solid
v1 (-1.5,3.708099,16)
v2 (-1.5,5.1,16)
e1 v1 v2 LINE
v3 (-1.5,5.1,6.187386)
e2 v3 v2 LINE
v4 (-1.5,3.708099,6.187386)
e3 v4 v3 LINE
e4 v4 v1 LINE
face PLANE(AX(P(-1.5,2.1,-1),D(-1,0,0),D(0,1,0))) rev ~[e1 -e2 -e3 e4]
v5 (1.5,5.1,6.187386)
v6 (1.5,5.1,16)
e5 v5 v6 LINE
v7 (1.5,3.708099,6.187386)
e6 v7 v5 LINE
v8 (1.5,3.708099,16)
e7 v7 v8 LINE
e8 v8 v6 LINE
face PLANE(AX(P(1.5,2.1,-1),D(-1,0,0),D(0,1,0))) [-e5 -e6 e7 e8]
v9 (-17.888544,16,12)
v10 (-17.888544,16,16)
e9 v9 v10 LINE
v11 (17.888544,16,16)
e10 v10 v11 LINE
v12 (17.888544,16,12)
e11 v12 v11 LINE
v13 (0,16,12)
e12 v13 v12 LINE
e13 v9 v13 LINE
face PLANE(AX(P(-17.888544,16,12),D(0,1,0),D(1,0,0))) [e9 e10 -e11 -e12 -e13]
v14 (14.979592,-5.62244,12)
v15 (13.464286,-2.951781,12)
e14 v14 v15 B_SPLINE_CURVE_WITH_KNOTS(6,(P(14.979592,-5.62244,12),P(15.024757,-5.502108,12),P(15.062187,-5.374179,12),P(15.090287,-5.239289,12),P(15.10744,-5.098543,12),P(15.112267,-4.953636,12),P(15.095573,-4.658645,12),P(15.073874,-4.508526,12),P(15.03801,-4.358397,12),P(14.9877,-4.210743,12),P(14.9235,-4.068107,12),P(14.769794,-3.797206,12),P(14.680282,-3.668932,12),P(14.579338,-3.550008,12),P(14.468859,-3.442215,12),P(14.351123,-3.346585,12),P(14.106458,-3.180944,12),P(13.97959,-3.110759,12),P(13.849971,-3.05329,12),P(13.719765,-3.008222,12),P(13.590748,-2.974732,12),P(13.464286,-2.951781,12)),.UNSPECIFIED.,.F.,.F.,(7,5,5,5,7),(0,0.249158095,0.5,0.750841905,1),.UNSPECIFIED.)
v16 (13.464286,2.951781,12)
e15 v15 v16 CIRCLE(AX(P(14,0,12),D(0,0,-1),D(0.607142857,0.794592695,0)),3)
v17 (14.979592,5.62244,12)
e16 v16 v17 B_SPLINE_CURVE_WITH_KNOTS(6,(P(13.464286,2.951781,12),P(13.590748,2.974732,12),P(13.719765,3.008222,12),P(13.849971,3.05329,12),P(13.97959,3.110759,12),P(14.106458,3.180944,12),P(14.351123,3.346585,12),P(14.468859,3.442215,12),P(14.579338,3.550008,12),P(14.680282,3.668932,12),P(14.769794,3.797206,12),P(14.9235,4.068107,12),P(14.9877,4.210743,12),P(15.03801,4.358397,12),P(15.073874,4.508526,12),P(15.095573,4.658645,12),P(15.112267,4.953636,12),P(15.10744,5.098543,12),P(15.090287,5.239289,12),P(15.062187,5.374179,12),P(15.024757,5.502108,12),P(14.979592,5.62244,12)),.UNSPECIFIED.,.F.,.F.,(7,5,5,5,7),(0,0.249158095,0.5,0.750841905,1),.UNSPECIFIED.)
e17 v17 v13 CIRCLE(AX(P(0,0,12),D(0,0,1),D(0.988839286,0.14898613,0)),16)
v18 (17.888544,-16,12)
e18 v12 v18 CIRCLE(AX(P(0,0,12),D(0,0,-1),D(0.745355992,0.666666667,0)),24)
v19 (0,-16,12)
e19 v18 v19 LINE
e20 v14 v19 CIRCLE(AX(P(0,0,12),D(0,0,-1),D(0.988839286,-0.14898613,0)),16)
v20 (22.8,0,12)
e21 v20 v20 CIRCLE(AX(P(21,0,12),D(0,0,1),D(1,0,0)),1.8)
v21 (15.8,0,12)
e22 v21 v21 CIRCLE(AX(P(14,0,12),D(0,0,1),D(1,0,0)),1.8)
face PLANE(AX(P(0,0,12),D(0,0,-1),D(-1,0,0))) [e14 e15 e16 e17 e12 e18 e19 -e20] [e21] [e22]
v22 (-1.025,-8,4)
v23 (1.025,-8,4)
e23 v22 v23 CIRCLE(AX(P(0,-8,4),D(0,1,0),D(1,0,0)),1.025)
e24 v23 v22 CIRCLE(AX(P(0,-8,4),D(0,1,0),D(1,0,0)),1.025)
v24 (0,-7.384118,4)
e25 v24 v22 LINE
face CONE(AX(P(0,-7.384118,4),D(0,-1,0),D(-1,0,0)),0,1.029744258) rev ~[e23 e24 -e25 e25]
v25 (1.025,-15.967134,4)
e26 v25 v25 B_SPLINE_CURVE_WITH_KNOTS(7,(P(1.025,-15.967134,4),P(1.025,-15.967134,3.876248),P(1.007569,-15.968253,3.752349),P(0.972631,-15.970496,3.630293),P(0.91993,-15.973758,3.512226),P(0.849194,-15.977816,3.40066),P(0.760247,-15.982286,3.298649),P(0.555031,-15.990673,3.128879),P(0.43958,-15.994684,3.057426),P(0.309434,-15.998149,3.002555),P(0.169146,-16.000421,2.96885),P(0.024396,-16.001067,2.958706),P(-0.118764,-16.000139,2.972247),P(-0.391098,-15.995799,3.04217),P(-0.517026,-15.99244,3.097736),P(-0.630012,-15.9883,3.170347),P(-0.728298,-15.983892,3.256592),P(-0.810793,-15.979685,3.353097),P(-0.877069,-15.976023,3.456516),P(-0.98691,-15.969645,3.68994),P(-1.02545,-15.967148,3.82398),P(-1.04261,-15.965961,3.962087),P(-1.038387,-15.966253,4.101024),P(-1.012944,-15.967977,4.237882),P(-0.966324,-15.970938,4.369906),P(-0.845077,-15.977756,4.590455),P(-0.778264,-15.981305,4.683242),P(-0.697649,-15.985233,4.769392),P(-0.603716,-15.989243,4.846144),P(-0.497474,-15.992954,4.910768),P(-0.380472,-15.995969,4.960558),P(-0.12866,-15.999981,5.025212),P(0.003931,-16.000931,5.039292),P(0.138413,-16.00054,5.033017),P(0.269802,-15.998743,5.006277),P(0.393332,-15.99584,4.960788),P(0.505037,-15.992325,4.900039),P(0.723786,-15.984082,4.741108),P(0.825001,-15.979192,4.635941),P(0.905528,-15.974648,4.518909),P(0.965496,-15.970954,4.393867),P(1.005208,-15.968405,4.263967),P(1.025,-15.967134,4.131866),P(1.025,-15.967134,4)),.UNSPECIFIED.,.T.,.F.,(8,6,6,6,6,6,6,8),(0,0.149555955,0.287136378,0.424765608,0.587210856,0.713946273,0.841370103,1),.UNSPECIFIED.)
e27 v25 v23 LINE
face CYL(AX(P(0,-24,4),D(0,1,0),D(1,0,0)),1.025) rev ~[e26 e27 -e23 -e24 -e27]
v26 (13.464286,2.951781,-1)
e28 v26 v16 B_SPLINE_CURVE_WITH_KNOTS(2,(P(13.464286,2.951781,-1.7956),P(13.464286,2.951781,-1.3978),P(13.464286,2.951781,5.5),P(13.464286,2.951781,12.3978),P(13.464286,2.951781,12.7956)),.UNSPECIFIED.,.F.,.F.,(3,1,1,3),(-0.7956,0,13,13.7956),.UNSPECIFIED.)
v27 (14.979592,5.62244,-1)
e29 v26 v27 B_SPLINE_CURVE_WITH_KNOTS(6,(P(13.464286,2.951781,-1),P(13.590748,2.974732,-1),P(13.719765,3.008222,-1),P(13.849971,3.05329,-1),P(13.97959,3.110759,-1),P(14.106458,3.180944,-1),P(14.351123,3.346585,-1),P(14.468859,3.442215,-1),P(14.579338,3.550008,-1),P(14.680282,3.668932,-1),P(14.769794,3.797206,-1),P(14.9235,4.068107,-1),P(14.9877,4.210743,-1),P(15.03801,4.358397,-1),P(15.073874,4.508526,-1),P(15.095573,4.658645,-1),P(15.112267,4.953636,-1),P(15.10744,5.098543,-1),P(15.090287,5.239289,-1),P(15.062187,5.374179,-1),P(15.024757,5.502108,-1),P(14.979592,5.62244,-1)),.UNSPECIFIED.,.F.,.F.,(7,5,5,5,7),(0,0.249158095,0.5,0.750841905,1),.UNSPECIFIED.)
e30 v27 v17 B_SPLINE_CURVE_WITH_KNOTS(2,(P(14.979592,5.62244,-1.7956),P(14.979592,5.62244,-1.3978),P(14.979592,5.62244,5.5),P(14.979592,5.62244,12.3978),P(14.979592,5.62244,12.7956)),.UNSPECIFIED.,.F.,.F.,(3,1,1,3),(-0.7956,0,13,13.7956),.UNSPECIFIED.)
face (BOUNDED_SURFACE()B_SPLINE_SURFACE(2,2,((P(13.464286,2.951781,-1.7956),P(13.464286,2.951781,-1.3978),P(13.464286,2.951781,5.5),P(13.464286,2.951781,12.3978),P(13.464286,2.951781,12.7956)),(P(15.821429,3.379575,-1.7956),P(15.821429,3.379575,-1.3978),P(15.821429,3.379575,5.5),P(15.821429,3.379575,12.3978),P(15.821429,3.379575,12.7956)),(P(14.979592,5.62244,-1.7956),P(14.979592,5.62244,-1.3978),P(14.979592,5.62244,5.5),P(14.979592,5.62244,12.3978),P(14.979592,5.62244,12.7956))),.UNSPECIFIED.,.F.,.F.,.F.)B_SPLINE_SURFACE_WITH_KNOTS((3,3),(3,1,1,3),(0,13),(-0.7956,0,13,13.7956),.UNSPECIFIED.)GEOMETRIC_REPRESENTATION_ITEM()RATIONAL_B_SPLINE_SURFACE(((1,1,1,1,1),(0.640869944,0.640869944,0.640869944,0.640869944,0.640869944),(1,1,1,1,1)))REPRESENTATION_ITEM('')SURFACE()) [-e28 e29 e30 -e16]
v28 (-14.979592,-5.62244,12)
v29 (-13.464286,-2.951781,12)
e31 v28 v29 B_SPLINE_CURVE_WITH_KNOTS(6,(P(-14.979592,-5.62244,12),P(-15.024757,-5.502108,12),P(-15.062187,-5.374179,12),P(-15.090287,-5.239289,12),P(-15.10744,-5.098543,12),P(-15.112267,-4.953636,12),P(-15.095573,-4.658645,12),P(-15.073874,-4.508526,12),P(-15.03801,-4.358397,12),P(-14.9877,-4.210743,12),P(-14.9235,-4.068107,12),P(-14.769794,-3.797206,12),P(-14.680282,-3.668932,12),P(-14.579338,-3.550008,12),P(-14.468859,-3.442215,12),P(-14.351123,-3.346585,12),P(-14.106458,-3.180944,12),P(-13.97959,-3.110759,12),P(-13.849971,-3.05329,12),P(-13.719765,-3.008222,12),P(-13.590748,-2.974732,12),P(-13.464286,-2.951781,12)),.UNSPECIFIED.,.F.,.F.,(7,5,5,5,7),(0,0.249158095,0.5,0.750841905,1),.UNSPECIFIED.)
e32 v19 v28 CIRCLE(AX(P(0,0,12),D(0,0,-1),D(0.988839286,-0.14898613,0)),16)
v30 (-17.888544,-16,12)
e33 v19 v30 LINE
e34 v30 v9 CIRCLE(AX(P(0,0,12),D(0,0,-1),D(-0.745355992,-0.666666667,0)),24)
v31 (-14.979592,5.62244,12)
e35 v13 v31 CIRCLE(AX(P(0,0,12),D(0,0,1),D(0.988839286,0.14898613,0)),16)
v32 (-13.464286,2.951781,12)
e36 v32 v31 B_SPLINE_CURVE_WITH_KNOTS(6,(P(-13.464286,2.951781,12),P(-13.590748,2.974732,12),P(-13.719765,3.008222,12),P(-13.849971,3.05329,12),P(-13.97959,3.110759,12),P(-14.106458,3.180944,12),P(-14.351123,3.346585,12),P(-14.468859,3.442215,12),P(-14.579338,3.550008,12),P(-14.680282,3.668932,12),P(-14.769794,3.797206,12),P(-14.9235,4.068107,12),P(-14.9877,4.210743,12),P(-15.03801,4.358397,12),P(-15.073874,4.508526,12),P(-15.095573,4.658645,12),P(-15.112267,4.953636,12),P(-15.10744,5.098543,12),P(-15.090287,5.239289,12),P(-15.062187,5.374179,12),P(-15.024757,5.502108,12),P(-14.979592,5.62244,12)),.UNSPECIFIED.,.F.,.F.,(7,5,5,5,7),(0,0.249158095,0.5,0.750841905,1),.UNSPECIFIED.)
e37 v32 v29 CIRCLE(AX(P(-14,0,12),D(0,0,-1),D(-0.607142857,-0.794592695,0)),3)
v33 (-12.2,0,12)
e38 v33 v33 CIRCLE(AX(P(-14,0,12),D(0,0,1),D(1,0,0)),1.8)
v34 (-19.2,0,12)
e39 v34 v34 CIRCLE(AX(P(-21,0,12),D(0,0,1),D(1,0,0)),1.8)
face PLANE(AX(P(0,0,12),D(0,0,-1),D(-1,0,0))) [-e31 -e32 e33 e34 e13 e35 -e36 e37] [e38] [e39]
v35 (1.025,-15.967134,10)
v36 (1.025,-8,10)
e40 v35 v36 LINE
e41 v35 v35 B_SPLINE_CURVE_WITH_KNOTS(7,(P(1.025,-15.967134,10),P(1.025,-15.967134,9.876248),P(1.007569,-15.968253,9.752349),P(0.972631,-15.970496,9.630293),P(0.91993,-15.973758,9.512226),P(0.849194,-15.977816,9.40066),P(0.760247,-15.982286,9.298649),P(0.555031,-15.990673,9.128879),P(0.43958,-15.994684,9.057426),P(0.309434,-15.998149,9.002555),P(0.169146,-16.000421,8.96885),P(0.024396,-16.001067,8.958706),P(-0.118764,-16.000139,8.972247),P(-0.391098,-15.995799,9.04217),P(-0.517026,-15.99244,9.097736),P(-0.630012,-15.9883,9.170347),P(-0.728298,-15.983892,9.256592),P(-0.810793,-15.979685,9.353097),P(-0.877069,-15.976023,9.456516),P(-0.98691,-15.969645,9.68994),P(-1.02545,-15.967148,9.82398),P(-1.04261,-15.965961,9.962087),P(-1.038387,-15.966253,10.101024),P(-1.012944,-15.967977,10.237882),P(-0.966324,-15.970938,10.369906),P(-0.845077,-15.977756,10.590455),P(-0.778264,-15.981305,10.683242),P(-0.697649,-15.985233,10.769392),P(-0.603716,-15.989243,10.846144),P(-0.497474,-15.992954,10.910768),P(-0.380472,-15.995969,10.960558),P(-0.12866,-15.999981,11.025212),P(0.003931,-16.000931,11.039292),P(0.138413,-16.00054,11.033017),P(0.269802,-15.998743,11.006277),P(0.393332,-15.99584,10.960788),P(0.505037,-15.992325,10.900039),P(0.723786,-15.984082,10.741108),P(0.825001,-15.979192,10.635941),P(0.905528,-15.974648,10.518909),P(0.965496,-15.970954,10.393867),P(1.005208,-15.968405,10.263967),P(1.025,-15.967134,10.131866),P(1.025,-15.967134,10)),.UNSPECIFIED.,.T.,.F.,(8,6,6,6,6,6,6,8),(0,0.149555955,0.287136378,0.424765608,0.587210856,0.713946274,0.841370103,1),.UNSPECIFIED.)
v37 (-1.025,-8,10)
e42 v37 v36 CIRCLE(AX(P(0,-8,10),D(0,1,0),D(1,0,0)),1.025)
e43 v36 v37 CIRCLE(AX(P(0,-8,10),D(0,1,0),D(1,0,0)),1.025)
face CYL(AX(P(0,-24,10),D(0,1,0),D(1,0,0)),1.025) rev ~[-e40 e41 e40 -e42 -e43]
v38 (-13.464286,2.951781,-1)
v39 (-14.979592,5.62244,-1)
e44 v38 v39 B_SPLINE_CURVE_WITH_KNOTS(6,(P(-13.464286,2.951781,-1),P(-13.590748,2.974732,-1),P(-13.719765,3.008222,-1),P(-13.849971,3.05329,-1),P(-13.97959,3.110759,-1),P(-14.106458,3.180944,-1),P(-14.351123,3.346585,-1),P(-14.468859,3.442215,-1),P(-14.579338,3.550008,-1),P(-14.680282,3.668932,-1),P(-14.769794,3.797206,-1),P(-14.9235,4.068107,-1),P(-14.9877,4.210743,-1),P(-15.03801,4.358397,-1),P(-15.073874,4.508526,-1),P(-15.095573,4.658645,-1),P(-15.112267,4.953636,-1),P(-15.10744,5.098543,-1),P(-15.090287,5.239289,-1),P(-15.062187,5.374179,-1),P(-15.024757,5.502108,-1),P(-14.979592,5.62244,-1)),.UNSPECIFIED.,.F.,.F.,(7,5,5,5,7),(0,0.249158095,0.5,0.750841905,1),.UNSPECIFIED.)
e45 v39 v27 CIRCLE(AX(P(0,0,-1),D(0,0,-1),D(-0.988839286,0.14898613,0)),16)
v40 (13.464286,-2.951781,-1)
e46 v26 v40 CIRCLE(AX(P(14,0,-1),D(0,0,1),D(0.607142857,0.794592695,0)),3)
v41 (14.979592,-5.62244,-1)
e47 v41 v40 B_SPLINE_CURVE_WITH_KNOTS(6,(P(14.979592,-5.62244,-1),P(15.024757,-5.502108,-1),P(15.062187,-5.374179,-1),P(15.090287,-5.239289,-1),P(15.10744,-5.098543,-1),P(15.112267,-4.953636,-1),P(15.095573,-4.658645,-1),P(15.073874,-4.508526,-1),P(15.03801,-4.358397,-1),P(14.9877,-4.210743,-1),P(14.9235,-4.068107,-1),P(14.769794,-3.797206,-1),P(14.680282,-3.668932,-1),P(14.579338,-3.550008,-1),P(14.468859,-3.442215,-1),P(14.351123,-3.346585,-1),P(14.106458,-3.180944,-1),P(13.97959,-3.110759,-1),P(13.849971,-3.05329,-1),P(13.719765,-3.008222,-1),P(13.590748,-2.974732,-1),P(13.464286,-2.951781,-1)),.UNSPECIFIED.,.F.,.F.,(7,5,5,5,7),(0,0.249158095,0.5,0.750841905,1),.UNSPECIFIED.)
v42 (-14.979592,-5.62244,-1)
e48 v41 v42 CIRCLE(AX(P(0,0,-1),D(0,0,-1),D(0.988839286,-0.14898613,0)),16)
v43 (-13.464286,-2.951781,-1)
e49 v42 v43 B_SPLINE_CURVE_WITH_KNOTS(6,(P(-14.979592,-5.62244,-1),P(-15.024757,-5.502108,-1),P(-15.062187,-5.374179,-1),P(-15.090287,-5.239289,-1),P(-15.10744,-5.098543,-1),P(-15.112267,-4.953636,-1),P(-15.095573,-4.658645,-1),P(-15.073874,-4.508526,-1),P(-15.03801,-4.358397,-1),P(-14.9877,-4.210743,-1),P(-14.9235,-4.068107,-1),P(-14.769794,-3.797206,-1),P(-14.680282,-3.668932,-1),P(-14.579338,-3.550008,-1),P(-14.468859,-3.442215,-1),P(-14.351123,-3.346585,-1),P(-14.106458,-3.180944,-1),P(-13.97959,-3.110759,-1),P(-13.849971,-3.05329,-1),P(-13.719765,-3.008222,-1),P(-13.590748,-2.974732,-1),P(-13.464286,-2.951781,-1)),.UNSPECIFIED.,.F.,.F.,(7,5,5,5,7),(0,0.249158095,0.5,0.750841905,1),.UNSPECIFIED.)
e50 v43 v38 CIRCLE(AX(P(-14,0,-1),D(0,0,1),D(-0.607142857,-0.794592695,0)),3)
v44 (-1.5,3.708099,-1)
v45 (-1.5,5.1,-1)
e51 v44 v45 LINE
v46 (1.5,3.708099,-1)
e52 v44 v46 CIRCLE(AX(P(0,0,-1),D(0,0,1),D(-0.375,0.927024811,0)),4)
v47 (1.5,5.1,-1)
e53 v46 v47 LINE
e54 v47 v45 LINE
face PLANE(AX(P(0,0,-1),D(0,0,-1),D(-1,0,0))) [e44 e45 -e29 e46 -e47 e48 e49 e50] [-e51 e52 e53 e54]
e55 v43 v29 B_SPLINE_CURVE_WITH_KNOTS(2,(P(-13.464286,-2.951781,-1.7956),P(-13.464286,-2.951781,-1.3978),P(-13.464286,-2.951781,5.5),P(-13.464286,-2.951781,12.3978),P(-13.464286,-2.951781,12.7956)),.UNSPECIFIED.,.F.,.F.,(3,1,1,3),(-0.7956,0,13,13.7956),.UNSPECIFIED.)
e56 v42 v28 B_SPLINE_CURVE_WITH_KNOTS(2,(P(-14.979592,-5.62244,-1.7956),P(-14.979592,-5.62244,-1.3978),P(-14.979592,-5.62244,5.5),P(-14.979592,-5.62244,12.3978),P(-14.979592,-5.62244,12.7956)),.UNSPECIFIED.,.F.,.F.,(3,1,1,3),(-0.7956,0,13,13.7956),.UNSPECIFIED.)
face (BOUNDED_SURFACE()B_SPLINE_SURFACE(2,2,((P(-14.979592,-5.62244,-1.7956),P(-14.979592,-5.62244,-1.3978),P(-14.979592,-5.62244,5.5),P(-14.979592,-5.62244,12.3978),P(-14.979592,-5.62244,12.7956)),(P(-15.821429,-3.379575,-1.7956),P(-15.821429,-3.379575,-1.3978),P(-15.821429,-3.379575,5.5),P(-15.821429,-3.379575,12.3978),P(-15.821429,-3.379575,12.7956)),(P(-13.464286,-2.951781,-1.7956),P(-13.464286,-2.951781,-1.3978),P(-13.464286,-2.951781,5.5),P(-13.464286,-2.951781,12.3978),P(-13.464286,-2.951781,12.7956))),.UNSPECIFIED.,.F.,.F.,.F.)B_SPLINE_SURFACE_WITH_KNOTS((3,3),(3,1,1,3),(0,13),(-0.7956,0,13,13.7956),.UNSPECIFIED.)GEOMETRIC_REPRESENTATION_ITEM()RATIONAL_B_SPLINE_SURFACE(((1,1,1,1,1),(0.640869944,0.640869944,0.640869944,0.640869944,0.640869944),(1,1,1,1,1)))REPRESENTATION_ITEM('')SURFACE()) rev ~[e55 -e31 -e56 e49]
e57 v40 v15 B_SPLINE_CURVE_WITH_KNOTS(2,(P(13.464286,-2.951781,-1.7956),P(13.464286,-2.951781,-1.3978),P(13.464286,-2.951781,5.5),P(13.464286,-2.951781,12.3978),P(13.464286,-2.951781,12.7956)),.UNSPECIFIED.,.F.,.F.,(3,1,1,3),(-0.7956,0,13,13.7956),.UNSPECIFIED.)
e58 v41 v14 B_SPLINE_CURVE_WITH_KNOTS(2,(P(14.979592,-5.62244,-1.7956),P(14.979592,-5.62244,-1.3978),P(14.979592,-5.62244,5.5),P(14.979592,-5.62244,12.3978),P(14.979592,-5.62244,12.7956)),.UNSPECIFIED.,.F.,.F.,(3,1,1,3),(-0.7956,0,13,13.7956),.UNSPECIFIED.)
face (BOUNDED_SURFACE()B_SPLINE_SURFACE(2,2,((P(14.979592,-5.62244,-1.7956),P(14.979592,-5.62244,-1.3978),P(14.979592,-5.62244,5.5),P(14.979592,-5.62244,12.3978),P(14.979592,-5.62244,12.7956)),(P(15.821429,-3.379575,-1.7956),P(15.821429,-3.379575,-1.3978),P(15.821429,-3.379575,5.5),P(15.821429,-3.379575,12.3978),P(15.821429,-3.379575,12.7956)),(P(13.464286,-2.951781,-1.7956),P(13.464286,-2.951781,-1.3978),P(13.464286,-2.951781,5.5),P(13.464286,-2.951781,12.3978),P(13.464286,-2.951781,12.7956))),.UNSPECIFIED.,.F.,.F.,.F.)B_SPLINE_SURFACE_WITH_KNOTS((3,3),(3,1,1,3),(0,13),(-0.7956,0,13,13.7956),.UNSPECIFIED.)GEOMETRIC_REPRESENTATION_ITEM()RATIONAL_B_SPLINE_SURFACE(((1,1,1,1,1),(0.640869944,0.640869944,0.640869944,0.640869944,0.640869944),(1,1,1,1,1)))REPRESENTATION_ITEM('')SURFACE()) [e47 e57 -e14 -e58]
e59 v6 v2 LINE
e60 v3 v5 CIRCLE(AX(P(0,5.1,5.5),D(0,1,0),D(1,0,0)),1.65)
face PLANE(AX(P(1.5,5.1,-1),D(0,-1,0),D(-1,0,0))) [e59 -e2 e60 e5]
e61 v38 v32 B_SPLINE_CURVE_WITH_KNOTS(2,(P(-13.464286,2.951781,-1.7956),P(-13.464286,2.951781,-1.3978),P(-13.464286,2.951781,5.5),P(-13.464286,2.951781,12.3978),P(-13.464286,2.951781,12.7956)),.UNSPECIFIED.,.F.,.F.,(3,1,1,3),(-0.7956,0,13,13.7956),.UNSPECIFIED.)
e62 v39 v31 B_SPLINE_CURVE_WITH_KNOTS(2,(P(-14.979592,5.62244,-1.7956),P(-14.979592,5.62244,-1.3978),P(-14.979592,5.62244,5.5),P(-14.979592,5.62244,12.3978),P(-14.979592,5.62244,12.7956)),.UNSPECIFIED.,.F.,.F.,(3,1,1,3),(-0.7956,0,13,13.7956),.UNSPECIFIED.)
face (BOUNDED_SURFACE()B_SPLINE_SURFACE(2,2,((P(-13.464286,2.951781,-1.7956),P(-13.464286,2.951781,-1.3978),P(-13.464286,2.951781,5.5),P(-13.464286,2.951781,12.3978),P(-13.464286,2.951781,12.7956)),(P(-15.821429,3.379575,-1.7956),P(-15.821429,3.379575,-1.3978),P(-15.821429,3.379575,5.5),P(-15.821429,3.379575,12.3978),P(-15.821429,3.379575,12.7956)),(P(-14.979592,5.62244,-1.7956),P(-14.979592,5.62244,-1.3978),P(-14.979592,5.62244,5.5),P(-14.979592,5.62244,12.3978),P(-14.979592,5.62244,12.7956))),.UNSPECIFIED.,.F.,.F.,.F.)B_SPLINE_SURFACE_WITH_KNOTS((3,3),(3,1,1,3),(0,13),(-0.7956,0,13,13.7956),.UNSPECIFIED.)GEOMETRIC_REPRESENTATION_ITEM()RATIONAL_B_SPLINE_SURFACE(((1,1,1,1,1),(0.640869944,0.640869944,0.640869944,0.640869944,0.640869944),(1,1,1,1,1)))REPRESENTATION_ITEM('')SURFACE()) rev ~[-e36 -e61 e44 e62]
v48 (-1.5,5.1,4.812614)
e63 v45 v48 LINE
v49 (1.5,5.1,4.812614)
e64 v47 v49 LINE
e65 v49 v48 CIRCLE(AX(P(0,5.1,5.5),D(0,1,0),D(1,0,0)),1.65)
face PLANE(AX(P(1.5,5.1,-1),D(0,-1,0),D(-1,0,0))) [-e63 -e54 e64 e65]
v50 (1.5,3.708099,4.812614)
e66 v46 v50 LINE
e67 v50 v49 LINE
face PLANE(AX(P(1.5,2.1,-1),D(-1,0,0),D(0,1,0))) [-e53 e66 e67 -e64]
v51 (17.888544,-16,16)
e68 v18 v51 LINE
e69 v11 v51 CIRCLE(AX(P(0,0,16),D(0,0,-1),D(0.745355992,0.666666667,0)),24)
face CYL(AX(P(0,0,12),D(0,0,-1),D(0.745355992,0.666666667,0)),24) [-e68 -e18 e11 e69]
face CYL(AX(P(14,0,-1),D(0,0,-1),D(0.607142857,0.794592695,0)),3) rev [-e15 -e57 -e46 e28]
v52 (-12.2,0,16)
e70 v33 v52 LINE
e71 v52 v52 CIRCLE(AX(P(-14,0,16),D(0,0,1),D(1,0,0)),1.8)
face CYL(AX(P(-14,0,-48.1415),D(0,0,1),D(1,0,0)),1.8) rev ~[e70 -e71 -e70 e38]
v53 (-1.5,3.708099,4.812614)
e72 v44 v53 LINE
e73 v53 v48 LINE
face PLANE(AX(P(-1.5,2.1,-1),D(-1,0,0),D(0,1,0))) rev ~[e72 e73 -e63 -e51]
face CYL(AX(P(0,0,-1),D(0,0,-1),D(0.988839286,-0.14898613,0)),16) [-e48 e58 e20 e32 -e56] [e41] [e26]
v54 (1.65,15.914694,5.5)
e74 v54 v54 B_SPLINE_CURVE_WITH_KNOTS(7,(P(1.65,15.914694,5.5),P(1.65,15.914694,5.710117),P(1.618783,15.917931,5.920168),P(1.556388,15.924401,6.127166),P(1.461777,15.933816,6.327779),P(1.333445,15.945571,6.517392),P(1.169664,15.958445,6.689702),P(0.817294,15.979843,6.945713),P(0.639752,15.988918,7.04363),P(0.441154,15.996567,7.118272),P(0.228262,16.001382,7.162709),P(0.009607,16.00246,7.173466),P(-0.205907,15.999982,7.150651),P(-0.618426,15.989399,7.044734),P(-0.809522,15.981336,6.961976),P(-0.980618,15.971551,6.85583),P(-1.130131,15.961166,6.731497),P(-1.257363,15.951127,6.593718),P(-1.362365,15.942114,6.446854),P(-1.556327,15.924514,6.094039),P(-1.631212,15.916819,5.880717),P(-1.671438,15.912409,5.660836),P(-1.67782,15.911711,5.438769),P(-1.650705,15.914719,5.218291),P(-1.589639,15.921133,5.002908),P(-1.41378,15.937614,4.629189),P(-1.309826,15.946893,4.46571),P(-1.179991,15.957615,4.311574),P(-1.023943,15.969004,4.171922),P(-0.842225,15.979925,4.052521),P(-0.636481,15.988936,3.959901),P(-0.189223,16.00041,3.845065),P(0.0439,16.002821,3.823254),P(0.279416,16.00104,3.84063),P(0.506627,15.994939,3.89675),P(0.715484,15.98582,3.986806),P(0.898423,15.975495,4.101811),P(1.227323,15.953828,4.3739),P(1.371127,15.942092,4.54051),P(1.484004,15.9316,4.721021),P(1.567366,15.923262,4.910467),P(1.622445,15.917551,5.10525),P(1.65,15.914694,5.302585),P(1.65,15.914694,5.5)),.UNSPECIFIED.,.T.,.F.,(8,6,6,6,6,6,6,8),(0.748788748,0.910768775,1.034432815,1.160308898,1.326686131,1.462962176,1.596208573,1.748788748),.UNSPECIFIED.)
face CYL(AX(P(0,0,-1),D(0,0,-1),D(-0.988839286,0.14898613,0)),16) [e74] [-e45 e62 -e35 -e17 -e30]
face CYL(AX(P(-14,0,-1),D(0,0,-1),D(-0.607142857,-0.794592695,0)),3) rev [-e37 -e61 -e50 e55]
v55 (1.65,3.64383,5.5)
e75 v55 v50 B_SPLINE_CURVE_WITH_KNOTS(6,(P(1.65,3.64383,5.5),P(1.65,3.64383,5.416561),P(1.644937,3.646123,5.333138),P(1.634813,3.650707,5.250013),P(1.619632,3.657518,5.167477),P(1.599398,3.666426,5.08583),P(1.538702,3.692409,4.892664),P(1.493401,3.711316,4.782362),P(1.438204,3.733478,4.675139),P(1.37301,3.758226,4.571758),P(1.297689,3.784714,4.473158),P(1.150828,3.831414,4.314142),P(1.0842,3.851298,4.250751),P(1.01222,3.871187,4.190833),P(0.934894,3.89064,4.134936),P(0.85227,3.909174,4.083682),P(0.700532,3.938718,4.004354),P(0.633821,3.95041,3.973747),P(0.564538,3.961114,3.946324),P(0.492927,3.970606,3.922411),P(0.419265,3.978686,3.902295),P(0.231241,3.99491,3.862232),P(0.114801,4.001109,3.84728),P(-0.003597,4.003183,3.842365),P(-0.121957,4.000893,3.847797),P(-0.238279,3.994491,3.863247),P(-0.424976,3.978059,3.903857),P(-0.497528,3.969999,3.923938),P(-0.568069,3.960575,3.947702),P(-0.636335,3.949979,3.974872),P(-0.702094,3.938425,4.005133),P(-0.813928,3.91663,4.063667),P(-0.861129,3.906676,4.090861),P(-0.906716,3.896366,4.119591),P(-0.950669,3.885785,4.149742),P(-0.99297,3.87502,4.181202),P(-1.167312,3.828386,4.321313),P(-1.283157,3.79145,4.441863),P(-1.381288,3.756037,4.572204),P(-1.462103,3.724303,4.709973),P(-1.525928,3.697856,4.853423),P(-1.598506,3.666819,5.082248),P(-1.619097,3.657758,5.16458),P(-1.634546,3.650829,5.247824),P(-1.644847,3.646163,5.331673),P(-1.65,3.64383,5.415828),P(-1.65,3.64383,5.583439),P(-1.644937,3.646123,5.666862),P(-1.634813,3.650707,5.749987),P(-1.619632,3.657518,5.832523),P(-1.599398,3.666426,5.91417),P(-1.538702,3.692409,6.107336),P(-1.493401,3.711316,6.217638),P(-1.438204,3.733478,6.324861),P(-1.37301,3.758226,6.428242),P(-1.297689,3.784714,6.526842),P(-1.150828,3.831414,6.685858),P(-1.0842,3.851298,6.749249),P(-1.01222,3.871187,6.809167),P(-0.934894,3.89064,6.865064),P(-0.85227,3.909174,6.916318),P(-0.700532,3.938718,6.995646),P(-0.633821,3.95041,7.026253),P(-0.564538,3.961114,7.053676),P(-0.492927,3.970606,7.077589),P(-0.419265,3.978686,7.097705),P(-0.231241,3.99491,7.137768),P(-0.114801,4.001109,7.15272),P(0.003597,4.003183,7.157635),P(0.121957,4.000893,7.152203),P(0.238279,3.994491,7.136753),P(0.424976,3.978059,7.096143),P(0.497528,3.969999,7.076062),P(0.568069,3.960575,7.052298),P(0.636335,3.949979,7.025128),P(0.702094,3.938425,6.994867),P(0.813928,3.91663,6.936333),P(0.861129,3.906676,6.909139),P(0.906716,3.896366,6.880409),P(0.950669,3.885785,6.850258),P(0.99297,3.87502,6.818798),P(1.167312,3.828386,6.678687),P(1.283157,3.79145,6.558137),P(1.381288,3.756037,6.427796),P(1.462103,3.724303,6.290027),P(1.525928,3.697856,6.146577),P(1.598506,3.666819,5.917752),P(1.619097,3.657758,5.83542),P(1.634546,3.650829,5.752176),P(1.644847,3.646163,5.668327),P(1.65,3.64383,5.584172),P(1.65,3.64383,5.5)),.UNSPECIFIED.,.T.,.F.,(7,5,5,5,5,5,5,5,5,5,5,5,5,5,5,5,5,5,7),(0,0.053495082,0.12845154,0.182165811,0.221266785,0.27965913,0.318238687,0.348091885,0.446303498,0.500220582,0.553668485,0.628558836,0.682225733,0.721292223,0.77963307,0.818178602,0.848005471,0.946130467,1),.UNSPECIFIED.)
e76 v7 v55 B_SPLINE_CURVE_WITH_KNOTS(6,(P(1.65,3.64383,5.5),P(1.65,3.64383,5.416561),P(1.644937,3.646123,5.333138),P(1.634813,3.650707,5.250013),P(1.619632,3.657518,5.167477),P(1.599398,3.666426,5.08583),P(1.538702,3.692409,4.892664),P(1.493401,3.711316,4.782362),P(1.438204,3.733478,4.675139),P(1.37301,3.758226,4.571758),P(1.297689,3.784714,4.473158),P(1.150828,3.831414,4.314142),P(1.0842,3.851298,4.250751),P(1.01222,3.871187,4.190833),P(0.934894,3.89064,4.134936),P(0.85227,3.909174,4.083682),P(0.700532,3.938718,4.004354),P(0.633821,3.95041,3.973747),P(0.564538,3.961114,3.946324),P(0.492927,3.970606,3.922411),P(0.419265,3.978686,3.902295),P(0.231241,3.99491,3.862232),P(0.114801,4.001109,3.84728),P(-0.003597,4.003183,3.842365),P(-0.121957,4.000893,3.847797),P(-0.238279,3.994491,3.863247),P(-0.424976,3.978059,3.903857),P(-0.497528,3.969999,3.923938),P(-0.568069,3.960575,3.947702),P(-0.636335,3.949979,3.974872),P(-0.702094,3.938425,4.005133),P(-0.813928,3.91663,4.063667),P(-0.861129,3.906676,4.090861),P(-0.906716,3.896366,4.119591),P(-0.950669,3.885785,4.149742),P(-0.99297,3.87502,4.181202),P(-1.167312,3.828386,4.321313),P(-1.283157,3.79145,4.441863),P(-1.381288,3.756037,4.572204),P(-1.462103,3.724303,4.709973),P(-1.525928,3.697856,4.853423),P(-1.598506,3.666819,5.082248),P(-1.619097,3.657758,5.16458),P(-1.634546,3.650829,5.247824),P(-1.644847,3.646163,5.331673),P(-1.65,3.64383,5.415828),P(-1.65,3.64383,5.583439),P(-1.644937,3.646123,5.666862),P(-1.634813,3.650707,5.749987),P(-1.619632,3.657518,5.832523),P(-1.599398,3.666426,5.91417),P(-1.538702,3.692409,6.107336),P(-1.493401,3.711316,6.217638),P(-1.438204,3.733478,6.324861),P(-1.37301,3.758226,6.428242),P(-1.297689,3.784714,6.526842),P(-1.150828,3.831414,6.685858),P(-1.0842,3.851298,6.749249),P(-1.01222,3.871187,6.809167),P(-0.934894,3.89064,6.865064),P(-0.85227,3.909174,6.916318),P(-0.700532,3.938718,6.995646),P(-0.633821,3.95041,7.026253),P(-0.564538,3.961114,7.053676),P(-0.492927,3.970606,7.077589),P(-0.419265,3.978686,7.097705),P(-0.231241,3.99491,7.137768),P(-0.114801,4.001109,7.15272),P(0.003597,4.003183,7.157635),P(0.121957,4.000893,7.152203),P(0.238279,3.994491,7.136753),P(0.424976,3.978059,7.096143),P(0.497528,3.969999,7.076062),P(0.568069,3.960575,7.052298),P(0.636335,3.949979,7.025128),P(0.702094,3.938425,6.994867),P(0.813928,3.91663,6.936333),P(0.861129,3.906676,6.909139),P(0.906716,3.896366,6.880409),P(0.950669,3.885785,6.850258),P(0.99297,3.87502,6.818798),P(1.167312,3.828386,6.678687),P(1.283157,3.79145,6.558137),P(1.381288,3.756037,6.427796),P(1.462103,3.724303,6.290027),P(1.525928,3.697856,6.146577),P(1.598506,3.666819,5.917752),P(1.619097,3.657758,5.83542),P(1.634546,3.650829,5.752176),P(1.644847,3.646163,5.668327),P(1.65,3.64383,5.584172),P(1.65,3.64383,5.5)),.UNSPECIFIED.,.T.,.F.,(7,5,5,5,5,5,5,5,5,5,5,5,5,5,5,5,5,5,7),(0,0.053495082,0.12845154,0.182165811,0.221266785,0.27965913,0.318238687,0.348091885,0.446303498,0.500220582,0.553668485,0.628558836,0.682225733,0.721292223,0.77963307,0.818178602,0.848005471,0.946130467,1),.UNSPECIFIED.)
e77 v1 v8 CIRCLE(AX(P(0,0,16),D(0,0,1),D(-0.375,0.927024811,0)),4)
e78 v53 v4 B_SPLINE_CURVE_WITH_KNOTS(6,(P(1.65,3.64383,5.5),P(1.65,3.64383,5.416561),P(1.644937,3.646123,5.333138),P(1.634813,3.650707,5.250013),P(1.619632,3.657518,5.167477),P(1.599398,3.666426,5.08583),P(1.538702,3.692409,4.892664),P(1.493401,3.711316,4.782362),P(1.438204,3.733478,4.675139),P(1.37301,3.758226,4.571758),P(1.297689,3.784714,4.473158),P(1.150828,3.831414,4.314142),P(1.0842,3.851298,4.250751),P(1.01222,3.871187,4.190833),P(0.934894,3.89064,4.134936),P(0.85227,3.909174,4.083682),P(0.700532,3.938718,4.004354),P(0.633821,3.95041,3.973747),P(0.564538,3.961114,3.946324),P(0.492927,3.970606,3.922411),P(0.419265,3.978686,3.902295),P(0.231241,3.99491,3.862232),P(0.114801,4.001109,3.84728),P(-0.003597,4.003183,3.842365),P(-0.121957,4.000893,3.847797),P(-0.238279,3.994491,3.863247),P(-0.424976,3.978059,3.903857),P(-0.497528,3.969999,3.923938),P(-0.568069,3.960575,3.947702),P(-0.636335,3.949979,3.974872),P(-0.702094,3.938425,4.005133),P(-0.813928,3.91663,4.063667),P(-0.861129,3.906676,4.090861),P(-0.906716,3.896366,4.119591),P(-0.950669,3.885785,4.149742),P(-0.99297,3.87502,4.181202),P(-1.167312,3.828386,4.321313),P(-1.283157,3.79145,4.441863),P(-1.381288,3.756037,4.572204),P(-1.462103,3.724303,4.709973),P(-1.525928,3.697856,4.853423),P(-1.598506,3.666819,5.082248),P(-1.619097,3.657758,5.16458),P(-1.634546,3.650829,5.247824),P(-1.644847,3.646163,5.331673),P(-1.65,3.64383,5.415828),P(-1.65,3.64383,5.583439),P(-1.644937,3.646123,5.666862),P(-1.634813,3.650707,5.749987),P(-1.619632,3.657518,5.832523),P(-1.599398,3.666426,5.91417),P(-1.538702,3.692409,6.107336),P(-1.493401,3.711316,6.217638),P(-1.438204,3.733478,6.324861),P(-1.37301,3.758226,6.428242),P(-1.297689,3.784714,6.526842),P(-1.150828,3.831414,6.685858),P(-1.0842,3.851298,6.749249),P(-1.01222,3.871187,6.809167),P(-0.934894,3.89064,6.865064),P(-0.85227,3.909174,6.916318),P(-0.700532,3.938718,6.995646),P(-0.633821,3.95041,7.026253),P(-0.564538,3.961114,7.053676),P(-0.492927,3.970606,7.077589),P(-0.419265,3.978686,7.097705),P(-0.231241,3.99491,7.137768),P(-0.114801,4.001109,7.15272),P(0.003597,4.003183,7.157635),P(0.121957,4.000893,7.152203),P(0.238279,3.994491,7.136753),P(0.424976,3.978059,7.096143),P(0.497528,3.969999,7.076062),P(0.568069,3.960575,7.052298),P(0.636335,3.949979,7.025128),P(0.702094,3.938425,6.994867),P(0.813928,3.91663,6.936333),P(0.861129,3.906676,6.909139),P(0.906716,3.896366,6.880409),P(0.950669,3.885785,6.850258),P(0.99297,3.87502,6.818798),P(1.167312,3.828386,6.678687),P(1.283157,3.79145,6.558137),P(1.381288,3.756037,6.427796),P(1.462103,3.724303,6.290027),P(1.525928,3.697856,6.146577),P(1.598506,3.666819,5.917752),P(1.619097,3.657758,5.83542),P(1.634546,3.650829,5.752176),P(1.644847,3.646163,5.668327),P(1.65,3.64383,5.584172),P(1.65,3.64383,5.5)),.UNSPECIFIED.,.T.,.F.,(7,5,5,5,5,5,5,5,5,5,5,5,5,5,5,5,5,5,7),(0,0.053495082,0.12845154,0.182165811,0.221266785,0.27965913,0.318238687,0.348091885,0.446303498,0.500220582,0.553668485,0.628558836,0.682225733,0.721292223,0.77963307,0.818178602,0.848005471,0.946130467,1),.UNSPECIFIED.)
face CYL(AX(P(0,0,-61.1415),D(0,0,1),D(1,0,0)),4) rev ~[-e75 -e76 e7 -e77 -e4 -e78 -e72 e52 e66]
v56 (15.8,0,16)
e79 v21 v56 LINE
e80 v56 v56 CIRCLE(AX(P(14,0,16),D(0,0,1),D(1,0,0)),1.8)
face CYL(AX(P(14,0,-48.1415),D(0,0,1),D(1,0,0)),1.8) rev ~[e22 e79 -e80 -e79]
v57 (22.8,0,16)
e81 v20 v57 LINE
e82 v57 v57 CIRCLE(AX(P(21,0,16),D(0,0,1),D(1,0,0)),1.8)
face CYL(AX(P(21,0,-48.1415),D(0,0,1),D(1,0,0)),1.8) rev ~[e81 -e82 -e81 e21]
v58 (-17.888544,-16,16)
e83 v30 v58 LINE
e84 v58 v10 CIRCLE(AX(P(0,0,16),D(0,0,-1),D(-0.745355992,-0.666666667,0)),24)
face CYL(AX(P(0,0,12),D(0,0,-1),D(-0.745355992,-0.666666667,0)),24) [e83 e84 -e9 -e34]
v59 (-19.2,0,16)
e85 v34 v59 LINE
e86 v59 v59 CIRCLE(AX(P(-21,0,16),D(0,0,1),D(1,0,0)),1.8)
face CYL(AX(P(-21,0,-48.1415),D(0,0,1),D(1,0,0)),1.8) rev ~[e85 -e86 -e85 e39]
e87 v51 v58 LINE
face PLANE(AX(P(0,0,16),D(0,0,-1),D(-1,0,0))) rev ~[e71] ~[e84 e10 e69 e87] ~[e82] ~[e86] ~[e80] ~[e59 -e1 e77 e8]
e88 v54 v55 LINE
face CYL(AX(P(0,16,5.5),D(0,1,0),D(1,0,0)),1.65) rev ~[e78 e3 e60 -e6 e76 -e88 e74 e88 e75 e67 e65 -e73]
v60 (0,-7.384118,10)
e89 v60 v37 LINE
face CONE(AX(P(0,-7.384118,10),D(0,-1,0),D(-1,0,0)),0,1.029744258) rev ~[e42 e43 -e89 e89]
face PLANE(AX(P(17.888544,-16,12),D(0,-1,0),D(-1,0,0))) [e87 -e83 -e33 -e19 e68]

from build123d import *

# Parameters (mm, degrees)
BOSS_EXTRUDE1_DEPTH          = 4
BOSS_EXTRUDE2_REACH          = 35.481
M3_CLEARANCE_HOLE1_D         = 3.6
F_8_0MM_DOWEL_HOLE1_D        = 8
FILLET1_R                    = 2
M4X0_7_TAPPED_HOLE1_REACH    = 45.081
M4X0_7_TAPPED_HOLE1_BORE_R   = 1.65
M2_5X0_45_TAPPED_HOLE1_D     = 2.05
M2_5X0_45_TAPPED_HOLE1_DEPTH = 8
M2_5X0_45_TAPPED_HOLE1_TIP   = 0.615882135
SKETCH14_W                   = 3
SKETCH14_H                   = 3
CUT_EXTRUDE1_DEPTH           = 34.481338272


with BuildPart() as part:
    # Sketch1 → Boss-Extrude1 (new body)
    with BuildSketch(Plane(origin=(0, 0, 12), x_dir=(-1, 0, 0), z_dir=(0, 0, -1))):
        with BuildLine():
            Line((17.88854382, 16), (-17.88854382, 16))
            ThreePointArc((-17.88854382, 16), (-24, 0), (-17.88854382, -16))
            Line((-17.88854382, -16), (17.88854382, -16))
            ThreePointArc((17.88854382, -16), (24, 0), (17.88854382, 16))
        make_face()
    extrude(amount=-BOSS_EXTRUDE1_DEPTH)

    # Sketch3 → Boss-Extrude2 (add, up to next)
    with BuildSketch(Plane(origin=(0, 0, -1), x_dir=(-1, 0, 0), z_dir=(0, 0, -1)), mode=Mode.PRIVATE) as boss_extrude2_sk1:
        with BuildLine():
            ThreePointArc((-15.821428571, -2.383778085), (0, -16), (15.821428571, -2.383778085))
            ThreePointArc((15.821428571, -2.383778085), (11, 0), (15.821428571, 2.383778085))
            ThreePointArc((15.821428571, 2.383778085), (0, 16), (-15.821428571, 2.383778085))
            ThreePointArc((-15.821428571, 2.383778085), (-11, 0), (-15.821428571, -2.383778085))
        make_face()
    boss_extrude2_tool1 = extrude(boss_extrude2_sk1.sketch, amount=-BOSS_EXTRUDE2_REACH, mode=Mode.PRIVATE) - part.part
    add(boss_extrude2_tool1.solids().sort_by_distance((0, 0, -1))[0])

    # M3 Clearance Hole1 (through all)
    with Locations(Plane(origin=(0, 0, 12), x_dir=(-1, 0, 0), z_dir=(0, 0, -1))):
        with Locations((21, 0), (-21, 0), (-14, 0), (14, 0)):
            Hole(M3_CLEARANCE_HOLE1_D / 2)

    # Ø8.0mm Dowel Hole1 (through all)
    with Locations(Plane(origin=(0, 0, -1), x_dir=(-1, 0, 0), z_dir=(0, 0, -1))):
        with Locations((0, 0)):
            Hole(F_8_0MM_DOWEL_HOLE1_D / 2)

    # Fillet1
    fillet1_edges = [part.edges().sort_by_distance(p)[0] for p in [
        (-15.821428571, -2.383778085, 5.5),
        (-15.821428571, 2.383778085, 5.5),
        (15.821428571, 2.383778085, 5.5),
        (15.821428571, -2.383778085, 5.5),
    ]]
    fillet(fillet1_edges, radius=FILLET1_R)

    # M4x0.7 Tapped Hole1 bore → M4x0.7 Tapped Hole1 (cut, up to next)
    with BuildSketch(Plane(origin=(0, 16, 0), x_dir=(1, 0, 0), z_dir=(0, 1, 0)), mode=Mode.PRIVATE) as m4x0_7_tapped_hole1_sk1:
        with Locations((0, -5.5)):
            Circle(M4X0_7_TAPPED_HOLE1_BORE_R)
    m4x0_7_tapped_hole1_tool1 = extrude(m4x0_7_tapped_hole1_sk1.sketch, amount=-M4X0_7_TAPPED_HOLE1_REACH, mode=Mode.PRIVATE) & part.part
    add(m4x0_7_tapped_hole1_tool1.solids().sort_by_distance((0, 16, 5.5))[0], mode=Mode.SUBTRACT)

    # M2.5x0.45 Tapped Hole1
    with Locations(Plane(origin=(0, -16, 0), x_dir=(-1, 0, 0), z_dir=(0, -1, 0))):
        with Locations((0, -4), (0, -10)):
            Hole(M2_5X0_45_TAPPED_HOLE1_D / 2, depth=M2_5X0_45_TAPPED_HOLE1_DEPTH)
            with Locations((0, 0, -(M2_5X0_45_TAPPED_HOLE1_DEPTH + M2_5X0_45_TAPPED_HOLE1_TIP / 2))):  # 118° drill point
                Cone(0, M2_5X0_45_TAPPED_HOLE1_D / 2, M2_5X0_45_TAPPED_HOLE1_TIP, mode=Mode.SUBTRACT)

    # Sketch14 → Cut-Extrude1 (cut, through all)
    with BuildSketch(Plane(origin=(0, 0, -1), x_dir=(-1, 0, 0), z_dir=(0, 0, -1))):
        with Locations((0, 3.6)):
            Rectangle(SKETCH14_W, SKETCH14_H)
    extrude(amount=-CUT_EXTRUDE1_DEPTH, mode=Mode.SUBTRACT)


solid = part.part
